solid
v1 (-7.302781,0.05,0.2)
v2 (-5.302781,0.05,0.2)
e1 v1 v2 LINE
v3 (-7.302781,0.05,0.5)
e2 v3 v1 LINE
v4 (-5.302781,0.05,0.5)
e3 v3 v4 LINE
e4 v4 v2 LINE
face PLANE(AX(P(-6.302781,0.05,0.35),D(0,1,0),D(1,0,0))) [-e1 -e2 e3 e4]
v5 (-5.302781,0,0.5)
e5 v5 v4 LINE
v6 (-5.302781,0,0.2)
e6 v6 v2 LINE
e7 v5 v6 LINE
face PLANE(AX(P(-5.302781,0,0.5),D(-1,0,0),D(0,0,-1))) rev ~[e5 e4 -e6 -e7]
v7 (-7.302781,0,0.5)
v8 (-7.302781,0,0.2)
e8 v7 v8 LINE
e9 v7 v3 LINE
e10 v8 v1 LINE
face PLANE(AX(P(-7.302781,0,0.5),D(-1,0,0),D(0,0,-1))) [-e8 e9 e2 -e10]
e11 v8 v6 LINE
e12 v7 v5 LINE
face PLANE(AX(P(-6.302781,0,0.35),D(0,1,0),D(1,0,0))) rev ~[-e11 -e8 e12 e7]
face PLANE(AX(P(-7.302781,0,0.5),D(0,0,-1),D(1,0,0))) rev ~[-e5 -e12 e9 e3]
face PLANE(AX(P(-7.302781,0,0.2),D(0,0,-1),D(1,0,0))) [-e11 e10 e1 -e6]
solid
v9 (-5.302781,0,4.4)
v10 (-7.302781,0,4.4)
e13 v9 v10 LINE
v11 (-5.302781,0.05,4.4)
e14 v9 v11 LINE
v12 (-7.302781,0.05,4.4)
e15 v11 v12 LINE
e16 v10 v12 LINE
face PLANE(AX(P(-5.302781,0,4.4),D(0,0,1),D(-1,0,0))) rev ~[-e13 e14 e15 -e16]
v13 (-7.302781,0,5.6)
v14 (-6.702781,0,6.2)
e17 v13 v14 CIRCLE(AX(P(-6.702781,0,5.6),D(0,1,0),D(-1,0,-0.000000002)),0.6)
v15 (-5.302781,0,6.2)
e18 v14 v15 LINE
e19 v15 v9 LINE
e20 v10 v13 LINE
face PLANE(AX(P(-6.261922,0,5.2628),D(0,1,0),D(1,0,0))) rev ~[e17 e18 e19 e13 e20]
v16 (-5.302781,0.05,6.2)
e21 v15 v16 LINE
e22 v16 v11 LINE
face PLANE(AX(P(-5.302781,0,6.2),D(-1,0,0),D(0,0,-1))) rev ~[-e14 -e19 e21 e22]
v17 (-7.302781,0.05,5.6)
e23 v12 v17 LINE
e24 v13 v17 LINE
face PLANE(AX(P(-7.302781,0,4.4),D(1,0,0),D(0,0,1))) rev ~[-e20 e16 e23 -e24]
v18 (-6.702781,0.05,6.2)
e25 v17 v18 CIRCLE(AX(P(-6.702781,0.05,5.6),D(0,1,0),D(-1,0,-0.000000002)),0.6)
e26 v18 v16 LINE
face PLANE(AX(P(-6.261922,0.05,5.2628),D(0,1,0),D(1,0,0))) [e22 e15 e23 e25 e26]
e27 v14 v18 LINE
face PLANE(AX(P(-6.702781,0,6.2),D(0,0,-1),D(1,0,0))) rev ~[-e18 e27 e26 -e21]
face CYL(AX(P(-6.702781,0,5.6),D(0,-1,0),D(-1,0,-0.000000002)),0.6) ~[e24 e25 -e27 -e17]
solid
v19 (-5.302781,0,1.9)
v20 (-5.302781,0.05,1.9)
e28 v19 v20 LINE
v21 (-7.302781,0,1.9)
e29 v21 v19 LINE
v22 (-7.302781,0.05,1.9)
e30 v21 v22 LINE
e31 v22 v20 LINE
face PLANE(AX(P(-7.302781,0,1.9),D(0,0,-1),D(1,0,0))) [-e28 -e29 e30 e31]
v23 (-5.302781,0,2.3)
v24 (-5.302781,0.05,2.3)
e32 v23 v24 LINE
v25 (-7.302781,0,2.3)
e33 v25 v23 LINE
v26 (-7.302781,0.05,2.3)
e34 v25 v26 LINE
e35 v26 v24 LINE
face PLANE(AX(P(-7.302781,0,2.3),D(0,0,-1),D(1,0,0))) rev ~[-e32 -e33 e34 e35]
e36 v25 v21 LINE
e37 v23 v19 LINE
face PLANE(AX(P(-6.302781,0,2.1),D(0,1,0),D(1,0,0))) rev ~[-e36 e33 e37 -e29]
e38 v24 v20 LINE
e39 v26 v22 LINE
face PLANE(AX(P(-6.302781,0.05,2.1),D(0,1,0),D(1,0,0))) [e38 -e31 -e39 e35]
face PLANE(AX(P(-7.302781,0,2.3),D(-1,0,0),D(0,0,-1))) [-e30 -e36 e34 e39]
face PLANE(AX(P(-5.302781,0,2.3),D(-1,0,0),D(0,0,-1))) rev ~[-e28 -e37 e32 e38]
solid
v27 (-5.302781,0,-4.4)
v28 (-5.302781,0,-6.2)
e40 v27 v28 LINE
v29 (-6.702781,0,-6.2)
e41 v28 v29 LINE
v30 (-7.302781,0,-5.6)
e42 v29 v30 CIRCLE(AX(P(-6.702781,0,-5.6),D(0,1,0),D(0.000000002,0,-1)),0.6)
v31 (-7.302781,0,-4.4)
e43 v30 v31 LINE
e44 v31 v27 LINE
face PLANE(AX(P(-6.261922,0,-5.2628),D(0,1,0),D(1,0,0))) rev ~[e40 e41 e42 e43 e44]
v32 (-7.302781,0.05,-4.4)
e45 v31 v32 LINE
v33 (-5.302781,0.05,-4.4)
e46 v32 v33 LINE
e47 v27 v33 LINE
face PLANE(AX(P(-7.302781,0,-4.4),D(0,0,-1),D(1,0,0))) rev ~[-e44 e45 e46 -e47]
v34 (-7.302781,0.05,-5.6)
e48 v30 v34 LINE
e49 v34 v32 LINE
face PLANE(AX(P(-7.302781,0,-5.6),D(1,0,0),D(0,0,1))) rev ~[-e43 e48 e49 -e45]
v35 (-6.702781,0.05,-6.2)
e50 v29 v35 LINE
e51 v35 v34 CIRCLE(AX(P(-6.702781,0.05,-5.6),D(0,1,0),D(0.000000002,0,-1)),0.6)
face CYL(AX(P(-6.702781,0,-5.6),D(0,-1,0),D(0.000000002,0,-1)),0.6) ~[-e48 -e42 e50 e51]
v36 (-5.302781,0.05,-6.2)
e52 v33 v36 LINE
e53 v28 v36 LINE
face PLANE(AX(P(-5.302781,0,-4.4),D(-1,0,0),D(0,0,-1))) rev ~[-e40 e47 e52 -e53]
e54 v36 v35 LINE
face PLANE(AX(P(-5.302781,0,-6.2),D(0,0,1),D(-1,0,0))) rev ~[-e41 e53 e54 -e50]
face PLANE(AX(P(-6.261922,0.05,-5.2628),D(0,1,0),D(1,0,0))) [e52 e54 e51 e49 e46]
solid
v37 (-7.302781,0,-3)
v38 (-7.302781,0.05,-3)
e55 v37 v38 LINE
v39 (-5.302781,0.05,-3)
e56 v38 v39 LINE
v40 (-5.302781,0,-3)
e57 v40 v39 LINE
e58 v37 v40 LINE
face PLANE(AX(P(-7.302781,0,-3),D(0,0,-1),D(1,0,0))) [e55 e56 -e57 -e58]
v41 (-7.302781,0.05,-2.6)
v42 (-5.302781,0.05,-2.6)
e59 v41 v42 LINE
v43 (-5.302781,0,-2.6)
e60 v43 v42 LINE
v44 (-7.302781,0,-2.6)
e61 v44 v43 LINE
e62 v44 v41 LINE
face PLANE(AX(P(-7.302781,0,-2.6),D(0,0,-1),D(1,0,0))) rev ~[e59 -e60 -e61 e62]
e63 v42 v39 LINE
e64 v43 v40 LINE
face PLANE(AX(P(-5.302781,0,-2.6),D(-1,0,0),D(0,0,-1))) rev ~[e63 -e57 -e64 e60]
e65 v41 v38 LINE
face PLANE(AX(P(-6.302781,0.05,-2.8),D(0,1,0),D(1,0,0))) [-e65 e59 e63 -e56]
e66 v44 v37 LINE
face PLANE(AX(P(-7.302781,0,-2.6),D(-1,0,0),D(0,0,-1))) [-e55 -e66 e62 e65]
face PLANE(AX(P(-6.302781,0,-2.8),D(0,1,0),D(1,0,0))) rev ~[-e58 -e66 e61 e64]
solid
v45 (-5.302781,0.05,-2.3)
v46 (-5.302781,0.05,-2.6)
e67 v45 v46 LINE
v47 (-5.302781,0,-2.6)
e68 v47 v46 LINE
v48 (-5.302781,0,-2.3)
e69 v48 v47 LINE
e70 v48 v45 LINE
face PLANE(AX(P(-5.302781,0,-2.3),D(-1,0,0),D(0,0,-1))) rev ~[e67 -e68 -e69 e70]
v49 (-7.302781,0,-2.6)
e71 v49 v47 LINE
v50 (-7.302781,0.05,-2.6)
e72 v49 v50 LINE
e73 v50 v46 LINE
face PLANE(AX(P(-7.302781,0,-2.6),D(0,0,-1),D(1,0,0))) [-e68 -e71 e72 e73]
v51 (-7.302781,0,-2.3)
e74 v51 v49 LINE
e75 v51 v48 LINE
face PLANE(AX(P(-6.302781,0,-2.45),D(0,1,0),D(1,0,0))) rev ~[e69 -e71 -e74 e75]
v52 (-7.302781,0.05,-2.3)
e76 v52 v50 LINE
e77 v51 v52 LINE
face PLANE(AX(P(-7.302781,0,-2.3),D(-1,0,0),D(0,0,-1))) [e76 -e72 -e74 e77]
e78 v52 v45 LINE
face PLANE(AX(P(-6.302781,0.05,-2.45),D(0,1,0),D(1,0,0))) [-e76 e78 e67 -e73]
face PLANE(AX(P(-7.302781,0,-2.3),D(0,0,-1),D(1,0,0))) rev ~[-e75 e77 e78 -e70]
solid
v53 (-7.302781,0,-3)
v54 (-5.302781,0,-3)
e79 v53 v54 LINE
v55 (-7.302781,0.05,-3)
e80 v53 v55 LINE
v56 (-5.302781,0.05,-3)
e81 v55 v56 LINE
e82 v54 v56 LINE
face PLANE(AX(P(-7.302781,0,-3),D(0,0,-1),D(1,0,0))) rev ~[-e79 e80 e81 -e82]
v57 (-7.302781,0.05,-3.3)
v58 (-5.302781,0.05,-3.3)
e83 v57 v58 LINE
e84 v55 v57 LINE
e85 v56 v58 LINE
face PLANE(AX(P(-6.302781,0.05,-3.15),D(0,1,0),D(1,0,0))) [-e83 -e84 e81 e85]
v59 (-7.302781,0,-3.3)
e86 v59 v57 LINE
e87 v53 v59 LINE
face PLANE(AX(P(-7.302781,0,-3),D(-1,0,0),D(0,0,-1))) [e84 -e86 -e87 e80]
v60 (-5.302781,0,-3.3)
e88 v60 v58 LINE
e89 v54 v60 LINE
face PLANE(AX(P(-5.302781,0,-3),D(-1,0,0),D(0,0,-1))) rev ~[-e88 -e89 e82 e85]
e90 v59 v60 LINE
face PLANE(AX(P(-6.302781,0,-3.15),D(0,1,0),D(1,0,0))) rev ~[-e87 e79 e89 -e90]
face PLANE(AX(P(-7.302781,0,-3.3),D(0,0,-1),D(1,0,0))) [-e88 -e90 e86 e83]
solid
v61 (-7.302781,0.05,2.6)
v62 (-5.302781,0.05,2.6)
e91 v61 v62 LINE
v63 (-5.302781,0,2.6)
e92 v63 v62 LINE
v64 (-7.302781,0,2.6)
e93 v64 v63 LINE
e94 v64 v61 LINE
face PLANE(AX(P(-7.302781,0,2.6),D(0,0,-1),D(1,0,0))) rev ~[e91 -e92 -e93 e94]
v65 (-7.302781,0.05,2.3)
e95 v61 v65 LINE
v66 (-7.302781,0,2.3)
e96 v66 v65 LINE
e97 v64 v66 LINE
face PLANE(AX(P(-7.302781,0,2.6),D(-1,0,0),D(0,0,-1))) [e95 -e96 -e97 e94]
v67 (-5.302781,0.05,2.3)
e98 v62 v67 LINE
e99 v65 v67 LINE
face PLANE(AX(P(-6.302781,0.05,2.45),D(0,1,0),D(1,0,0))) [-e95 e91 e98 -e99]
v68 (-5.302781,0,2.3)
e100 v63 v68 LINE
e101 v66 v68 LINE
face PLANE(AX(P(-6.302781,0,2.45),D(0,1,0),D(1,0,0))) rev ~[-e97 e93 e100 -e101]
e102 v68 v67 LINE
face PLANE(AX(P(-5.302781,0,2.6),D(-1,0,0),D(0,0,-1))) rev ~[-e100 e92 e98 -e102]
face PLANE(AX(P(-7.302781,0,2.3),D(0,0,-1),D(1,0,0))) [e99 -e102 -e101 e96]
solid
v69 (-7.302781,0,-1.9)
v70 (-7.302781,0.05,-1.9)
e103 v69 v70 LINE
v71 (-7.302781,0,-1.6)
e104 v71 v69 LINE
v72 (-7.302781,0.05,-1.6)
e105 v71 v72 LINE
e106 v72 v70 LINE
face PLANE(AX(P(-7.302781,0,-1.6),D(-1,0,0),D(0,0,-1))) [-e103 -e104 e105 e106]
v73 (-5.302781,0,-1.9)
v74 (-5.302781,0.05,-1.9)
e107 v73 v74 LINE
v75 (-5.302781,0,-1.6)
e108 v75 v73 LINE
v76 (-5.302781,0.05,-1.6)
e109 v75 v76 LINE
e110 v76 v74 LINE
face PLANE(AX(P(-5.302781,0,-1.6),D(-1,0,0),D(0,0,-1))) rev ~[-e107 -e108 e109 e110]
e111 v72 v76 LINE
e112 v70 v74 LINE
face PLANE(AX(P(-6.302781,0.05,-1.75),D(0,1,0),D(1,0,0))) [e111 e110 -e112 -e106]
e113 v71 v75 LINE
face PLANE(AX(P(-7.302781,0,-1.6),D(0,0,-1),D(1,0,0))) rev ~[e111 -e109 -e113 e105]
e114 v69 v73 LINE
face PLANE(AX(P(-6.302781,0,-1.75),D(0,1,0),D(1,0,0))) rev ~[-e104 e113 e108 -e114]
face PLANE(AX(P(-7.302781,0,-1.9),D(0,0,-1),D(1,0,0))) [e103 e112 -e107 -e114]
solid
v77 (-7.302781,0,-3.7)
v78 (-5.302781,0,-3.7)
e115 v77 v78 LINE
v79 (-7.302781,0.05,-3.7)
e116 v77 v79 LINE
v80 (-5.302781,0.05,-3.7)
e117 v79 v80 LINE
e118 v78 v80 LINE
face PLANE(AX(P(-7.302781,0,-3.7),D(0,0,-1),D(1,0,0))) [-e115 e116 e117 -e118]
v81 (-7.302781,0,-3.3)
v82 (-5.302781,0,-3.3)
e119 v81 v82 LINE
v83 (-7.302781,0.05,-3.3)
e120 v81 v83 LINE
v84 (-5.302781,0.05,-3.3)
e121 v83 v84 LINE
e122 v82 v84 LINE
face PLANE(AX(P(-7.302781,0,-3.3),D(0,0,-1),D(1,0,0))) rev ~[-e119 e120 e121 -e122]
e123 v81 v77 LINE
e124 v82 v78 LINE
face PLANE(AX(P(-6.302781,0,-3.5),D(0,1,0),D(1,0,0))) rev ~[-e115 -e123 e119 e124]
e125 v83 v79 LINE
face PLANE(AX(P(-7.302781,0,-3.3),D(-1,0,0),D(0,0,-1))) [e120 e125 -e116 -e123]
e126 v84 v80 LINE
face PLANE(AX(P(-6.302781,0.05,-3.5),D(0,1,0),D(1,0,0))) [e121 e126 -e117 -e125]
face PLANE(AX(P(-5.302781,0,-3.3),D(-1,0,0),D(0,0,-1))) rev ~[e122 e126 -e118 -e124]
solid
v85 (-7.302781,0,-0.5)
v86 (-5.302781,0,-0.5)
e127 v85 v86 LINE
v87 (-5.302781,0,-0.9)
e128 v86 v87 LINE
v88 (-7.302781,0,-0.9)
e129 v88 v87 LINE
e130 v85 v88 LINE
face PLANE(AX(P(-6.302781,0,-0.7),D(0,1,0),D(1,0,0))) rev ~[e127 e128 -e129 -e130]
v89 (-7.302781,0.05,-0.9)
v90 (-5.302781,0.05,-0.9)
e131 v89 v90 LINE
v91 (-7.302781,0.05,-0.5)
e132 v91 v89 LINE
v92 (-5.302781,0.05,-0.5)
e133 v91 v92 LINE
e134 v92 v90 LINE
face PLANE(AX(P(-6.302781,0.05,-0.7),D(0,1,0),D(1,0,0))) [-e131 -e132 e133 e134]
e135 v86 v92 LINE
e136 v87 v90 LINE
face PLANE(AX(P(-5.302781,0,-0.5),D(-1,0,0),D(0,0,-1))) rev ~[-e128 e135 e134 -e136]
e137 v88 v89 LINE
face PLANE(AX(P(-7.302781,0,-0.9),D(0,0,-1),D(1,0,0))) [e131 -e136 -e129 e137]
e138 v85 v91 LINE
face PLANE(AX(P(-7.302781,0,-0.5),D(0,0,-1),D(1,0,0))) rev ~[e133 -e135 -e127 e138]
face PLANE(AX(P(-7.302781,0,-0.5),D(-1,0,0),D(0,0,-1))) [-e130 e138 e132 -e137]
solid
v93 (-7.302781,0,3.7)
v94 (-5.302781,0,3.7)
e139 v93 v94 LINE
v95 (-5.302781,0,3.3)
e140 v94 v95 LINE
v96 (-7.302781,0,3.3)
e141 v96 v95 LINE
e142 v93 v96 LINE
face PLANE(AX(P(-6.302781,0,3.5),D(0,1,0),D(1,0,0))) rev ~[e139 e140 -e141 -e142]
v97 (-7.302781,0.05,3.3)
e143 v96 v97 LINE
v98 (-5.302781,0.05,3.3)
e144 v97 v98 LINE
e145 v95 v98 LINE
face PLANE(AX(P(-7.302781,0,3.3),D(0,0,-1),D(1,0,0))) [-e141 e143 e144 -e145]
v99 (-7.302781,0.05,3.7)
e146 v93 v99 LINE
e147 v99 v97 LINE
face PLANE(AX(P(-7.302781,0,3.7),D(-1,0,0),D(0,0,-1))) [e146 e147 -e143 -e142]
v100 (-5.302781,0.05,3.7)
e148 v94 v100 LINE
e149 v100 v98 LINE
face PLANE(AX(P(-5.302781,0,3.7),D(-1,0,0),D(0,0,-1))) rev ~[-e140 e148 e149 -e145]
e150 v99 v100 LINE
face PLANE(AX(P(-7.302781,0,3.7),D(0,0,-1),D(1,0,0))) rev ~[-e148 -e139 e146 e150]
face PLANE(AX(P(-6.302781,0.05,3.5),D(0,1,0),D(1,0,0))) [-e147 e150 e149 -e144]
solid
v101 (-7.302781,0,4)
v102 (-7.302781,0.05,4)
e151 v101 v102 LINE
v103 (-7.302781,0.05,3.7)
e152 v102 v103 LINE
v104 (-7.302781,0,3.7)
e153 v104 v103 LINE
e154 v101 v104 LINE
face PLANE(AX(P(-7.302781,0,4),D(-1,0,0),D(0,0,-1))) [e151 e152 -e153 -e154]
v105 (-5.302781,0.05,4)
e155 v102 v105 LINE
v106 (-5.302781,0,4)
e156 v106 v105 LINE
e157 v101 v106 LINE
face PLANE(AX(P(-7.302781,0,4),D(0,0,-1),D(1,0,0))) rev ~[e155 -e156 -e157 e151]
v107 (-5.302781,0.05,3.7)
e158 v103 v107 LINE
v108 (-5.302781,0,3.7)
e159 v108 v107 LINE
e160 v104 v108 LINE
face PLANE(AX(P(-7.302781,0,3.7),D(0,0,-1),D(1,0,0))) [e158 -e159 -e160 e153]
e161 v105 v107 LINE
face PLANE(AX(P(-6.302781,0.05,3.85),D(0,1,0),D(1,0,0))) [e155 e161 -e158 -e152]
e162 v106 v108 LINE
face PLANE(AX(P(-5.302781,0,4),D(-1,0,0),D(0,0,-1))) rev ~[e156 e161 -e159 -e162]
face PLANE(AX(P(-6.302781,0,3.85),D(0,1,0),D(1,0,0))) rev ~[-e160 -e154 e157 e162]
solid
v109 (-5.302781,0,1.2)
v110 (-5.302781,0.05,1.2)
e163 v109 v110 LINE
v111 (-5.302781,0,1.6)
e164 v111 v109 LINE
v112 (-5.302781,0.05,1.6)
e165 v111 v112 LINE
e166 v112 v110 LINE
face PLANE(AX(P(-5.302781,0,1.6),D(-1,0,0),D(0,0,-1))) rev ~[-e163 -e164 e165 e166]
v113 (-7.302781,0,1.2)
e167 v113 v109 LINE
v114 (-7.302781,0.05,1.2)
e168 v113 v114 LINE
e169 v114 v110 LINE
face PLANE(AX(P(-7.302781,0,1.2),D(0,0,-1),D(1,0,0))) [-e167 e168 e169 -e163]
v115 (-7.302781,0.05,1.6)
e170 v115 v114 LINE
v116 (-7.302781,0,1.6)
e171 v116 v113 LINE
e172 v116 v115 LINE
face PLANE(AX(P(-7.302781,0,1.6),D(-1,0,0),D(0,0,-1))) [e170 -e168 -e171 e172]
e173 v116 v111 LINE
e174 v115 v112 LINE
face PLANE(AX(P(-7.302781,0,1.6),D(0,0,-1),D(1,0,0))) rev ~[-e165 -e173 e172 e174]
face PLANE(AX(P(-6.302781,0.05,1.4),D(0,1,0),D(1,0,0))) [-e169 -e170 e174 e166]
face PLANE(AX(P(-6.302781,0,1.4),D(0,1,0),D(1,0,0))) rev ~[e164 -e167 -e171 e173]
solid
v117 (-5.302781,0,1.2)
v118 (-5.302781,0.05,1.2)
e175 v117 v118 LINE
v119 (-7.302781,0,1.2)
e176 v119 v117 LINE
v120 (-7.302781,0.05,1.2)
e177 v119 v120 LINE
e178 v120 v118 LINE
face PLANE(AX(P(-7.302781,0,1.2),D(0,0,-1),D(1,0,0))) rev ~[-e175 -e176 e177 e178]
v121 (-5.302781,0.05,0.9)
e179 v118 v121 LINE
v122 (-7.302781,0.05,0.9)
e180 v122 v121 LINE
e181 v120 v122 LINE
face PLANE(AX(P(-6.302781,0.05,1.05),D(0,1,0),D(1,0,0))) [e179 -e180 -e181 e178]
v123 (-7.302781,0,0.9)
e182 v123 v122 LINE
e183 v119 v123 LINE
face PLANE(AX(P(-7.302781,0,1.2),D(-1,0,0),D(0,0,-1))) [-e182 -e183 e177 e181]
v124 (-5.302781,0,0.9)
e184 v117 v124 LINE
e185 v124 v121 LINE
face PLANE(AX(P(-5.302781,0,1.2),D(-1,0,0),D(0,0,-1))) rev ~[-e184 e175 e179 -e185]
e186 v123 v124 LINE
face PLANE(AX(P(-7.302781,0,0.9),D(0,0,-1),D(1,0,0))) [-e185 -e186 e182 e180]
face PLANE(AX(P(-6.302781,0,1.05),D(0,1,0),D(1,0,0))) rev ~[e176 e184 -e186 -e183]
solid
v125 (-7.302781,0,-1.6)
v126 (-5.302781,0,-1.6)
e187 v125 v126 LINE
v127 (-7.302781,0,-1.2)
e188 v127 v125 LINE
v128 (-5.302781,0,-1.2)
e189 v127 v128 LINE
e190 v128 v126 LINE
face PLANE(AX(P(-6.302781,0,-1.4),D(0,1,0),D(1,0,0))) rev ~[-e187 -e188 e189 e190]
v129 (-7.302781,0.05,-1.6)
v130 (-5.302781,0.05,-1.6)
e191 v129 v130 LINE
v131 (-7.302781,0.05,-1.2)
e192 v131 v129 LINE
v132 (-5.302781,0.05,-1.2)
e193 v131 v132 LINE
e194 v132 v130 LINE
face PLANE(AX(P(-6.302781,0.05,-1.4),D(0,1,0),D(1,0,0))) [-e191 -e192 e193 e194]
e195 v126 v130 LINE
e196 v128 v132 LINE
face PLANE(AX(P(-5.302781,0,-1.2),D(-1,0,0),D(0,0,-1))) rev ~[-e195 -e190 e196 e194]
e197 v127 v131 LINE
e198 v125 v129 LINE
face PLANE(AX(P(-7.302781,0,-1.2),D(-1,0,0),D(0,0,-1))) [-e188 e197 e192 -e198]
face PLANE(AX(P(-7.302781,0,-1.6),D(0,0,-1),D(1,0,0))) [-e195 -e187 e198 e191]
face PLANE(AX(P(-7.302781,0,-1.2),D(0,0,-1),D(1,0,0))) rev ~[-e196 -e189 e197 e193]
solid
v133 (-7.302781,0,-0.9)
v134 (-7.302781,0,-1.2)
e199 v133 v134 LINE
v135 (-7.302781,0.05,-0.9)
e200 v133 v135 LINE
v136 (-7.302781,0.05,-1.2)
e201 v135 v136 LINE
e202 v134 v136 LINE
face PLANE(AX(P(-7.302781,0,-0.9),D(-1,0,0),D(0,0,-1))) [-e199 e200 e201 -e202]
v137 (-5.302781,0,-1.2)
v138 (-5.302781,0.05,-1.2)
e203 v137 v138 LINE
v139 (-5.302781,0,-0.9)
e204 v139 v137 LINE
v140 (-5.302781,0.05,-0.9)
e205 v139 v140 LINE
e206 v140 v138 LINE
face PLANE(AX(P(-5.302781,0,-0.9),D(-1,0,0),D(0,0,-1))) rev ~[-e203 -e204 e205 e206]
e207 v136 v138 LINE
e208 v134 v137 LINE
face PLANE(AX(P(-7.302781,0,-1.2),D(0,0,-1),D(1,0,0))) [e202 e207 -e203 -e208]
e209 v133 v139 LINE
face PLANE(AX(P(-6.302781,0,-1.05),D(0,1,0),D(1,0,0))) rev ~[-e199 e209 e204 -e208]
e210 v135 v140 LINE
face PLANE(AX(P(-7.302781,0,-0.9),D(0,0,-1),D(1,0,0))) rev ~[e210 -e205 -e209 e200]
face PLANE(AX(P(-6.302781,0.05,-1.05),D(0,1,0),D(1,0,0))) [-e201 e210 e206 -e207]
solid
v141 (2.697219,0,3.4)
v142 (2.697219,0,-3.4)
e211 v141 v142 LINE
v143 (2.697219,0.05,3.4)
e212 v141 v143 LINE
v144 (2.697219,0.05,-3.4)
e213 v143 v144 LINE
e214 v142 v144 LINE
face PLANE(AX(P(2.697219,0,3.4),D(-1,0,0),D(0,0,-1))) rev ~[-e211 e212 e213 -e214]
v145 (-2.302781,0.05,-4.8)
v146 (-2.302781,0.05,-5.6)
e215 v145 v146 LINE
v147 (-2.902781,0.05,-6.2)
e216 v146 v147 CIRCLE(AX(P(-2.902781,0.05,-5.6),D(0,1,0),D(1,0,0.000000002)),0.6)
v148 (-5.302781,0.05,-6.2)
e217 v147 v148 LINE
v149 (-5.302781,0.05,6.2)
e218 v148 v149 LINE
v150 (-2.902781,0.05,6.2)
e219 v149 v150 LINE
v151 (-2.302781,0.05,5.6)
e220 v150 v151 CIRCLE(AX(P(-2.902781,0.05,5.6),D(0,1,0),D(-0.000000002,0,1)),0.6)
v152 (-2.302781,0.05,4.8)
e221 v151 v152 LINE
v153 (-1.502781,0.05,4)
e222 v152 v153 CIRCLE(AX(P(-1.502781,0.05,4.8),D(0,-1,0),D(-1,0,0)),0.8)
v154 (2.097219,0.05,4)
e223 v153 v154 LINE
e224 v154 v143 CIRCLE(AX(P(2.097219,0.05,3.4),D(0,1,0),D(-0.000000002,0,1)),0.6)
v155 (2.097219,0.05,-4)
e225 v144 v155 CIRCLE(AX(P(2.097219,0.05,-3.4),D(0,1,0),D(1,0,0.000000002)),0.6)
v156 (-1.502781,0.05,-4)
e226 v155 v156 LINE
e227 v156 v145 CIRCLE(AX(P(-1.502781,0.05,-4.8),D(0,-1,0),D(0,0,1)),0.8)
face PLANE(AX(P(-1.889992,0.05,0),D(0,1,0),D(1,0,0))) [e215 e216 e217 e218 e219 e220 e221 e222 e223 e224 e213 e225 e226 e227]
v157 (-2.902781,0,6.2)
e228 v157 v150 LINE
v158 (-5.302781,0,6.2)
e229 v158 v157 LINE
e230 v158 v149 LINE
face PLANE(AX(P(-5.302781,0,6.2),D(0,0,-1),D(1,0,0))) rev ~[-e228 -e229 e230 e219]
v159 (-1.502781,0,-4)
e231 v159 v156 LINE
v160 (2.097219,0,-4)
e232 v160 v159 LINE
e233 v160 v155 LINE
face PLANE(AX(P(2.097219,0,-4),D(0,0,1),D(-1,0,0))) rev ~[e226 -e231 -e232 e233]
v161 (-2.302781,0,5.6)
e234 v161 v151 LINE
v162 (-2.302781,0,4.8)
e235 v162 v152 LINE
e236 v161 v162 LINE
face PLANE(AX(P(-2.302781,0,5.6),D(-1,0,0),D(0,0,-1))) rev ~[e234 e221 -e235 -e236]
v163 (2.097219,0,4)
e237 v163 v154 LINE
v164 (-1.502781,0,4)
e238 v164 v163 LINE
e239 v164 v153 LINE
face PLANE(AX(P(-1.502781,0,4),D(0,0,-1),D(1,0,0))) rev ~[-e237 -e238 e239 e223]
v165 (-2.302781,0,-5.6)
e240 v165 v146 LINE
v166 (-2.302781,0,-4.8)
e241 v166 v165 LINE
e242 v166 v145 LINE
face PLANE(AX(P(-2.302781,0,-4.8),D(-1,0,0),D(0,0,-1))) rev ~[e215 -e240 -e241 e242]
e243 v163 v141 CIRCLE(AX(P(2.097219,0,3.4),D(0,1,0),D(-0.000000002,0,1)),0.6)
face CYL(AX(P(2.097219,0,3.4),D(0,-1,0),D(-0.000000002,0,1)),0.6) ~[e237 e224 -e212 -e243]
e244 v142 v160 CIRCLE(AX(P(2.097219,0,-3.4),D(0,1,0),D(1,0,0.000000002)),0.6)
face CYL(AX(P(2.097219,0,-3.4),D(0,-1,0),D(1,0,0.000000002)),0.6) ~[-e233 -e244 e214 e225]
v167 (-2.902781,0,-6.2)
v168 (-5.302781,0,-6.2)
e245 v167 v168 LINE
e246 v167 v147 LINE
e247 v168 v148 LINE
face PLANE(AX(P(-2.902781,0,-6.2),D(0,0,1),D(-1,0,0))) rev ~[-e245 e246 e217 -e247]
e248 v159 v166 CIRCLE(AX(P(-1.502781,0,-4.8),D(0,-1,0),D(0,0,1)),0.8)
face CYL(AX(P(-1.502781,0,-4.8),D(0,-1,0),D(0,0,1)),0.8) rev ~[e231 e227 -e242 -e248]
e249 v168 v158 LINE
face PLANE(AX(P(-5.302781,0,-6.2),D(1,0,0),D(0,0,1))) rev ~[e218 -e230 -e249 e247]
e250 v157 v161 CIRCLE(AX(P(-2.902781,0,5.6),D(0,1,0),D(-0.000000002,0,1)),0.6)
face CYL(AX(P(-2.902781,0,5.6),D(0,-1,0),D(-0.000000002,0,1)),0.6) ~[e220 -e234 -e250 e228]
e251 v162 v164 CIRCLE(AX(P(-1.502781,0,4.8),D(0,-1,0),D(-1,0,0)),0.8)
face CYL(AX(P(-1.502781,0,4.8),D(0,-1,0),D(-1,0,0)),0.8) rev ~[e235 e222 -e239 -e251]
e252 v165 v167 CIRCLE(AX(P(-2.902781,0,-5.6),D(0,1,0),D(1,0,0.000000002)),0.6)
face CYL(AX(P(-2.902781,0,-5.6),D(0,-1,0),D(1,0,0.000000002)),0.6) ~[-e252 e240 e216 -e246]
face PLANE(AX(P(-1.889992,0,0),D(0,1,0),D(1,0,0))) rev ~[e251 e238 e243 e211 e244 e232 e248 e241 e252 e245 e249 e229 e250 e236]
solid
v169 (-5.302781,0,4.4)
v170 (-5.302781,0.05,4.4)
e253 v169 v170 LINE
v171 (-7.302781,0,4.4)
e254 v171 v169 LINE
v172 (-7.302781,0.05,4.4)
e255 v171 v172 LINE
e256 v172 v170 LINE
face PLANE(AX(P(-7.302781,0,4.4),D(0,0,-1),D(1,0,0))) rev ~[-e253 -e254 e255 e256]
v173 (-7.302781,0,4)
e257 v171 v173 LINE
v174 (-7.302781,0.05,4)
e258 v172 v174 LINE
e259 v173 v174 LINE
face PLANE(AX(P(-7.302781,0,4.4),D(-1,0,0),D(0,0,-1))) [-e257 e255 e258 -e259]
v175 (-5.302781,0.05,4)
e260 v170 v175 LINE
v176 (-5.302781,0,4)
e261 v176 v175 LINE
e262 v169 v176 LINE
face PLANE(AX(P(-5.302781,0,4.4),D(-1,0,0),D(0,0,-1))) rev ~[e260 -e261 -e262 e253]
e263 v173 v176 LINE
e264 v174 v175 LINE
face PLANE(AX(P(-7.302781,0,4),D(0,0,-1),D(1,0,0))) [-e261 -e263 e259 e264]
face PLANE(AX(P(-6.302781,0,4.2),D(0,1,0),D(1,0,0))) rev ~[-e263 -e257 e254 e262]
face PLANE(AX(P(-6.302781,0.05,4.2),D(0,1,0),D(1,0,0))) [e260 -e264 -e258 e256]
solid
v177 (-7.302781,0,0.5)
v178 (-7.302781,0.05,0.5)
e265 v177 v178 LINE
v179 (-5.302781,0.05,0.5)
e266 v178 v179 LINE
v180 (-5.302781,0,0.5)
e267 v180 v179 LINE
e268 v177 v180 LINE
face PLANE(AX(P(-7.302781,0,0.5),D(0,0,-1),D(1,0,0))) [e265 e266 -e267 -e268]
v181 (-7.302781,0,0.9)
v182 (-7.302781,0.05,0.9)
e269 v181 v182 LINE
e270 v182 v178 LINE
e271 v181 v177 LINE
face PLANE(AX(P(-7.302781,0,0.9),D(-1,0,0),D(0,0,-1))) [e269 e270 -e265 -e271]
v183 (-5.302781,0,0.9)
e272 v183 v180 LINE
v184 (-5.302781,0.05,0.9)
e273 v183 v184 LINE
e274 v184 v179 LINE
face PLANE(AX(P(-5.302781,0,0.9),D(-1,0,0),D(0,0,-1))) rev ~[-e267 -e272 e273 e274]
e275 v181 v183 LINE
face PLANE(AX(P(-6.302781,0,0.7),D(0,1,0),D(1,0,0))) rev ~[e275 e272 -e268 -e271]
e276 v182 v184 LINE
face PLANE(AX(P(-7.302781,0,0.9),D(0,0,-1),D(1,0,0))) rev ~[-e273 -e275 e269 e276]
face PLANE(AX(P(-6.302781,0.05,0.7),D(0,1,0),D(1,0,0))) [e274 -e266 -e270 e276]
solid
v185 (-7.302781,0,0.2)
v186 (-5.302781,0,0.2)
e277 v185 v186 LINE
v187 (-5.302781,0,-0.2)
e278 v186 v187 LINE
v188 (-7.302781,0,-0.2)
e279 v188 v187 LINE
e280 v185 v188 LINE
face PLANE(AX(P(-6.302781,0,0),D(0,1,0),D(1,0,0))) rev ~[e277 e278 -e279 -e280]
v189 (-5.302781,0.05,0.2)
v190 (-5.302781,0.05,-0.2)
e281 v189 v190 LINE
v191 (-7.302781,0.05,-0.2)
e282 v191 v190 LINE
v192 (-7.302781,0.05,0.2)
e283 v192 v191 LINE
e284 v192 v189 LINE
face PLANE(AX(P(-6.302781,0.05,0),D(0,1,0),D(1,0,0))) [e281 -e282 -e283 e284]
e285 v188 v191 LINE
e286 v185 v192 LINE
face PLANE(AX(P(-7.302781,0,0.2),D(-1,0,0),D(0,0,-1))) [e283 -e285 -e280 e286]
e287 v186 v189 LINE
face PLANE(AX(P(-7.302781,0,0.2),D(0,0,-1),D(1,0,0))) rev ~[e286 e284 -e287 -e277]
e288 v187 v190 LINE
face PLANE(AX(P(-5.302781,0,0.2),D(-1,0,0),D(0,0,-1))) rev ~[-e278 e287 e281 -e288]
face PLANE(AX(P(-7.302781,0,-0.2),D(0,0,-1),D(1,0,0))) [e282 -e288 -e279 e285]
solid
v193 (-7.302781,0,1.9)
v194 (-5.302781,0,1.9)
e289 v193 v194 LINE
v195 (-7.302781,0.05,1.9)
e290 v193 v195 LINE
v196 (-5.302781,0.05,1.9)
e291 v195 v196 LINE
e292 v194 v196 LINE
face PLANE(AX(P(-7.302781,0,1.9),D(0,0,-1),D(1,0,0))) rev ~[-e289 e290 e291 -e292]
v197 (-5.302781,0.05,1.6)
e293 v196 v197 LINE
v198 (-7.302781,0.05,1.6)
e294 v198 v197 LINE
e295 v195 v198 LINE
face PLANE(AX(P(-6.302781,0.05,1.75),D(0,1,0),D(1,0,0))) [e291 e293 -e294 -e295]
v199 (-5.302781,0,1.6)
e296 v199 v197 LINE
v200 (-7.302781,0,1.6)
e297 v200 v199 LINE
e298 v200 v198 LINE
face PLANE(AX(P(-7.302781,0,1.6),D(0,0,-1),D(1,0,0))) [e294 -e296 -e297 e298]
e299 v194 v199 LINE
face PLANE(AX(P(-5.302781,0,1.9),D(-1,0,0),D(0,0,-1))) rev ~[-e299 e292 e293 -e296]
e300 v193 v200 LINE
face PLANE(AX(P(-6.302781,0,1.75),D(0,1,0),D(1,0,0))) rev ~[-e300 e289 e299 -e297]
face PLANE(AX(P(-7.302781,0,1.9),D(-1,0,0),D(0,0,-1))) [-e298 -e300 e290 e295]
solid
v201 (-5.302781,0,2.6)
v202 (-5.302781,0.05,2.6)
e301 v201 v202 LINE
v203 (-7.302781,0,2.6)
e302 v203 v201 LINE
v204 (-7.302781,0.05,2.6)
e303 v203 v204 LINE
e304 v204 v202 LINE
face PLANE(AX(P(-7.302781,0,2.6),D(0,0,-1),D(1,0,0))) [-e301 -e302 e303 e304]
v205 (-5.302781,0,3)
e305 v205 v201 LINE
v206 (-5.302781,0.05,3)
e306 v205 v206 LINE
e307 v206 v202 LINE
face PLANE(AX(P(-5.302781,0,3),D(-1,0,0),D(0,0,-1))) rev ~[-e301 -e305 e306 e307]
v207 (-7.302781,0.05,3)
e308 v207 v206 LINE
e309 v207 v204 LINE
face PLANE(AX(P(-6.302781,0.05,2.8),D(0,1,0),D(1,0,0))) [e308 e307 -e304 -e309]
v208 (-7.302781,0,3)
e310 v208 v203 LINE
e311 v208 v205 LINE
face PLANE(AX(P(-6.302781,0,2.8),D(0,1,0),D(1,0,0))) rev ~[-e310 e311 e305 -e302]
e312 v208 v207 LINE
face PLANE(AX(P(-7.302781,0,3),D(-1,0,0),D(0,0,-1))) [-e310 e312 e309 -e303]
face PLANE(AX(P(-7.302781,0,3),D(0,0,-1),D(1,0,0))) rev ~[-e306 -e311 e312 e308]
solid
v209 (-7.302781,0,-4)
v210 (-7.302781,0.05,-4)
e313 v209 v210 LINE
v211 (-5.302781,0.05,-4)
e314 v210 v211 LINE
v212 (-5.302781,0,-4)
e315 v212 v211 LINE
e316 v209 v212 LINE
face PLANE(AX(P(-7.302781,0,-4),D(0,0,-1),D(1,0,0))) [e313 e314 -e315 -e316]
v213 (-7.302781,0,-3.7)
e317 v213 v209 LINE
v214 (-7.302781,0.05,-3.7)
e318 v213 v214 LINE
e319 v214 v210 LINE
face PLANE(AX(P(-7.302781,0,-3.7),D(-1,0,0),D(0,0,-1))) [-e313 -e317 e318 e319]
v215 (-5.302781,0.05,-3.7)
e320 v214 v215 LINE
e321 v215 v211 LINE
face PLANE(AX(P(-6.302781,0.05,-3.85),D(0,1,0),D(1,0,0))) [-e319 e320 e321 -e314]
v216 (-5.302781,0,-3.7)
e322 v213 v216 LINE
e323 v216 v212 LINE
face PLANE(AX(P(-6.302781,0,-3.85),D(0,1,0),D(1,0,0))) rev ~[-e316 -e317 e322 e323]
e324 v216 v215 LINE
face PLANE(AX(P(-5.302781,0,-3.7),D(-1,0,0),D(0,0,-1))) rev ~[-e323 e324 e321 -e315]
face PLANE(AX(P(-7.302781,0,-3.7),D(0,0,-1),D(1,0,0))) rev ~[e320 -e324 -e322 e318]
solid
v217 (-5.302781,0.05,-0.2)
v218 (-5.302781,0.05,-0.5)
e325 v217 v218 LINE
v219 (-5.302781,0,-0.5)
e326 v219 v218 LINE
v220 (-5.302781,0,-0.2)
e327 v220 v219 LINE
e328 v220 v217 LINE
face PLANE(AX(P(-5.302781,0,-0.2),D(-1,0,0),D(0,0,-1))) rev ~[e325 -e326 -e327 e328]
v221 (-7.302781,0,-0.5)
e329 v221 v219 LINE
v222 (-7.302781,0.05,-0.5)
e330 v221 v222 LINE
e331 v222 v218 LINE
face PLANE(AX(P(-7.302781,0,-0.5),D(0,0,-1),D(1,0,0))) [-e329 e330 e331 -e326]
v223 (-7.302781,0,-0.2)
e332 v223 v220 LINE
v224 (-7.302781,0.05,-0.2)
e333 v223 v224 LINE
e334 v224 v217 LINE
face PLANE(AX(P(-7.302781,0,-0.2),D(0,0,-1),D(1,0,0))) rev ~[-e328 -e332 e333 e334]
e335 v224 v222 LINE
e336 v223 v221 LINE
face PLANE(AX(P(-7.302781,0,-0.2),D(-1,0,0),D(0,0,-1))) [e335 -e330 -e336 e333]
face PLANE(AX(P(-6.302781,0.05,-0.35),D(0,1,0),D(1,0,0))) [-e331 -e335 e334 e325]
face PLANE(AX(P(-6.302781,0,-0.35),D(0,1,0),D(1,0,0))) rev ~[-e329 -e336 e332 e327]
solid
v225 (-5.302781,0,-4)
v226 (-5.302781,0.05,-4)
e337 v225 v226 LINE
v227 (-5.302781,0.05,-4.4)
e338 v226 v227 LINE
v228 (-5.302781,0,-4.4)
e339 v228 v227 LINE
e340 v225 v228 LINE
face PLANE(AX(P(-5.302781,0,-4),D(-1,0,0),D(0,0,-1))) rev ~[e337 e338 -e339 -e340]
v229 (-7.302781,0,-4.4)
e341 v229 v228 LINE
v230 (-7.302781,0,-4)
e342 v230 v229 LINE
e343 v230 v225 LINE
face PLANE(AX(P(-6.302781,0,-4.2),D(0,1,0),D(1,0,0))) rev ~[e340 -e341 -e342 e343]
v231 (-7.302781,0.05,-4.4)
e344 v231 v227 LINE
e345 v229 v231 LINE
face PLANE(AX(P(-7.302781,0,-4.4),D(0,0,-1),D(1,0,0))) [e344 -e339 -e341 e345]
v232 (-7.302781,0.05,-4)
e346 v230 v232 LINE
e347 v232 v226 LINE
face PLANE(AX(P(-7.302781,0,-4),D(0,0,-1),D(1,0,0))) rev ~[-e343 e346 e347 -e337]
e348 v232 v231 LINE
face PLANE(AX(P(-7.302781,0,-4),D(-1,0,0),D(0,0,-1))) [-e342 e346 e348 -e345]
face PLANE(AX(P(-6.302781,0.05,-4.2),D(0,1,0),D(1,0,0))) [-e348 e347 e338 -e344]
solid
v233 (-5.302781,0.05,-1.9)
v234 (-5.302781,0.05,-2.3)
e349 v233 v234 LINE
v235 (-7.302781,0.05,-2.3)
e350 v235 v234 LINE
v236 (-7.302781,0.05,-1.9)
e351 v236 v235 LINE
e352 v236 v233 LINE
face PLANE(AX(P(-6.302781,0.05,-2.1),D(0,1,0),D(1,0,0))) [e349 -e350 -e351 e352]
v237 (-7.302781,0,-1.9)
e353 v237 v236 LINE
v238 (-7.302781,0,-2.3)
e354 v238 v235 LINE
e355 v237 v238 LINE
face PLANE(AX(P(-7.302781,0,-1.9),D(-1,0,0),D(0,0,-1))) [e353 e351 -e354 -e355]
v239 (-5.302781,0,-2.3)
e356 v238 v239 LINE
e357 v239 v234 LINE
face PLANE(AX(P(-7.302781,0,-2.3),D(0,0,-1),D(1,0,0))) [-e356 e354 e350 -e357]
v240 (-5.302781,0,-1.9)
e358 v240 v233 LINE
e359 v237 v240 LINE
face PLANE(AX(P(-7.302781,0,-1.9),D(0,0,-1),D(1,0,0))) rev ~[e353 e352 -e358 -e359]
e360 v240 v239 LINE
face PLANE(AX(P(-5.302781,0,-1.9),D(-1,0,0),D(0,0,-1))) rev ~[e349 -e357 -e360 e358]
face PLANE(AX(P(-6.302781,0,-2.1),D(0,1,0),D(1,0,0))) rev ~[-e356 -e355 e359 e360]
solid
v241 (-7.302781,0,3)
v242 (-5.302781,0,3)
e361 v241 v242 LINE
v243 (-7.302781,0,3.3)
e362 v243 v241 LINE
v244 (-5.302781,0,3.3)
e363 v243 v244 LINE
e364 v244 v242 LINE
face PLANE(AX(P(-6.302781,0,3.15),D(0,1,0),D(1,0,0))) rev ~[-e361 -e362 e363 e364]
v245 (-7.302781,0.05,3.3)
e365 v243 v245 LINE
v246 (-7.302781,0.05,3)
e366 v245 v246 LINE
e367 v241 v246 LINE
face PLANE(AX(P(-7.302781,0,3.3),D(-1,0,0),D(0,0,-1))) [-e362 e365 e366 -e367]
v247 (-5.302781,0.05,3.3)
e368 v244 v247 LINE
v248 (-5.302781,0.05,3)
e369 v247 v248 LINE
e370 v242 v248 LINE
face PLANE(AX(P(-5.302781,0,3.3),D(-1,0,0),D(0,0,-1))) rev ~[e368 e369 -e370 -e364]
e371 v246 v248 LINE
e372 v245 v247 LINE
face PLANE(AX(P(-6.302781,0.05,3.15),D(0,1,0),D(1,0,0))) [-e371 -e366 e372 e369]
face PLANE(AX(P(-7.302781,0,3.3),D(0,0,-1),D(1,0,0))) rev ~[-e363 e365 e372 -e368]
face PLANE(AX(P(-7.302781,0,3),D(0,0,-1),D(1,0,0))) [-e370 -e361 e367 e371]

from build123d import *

# Parameters (mm, degrees)
EXTRUDE_1_DEPTH    = 0.05
SKETCH_1_3_W       = 2
SKETCH_1_3_H       = 0.4
EXTRUDE_2_DEPTH    = 0.05
EXTRUDE_2_2_DEPTH  = 0.05
EXTRUDE_2_3_DEPTH  = 0.05
EXTRUDE_2_4_DEPTH  = 0.05
EXTRUDE_2_5_DEPTH  = 0.05
EXTRUDE_2_6_DEPTH  = 0.05
EXTRUDE_2_7_DEPTH  = 0.05
EXTRUDE_2_8_DEPTH  = 0.05
EXTRUDE_2_9_DEPTH  = 0.05
EXTRUDE_2_10_DEPTH = 0.05
EXTRUDE_2_11_DEPTH = 0.05
EXTRUDE_2_12_DEPTH = 0.05
EXTRUDE_2_13_DEPTH = 0.05
EXTRUDE_3_DEPTH    = 0.05
SKETCH_1_5_W       = 2
SKETCH_1_5_H       = 0.3
EXTRUDE_3_2_DEPTH  = 0.05
EXTRUDE_3_3_DEPTH  = 0.05
EXTRUDE_3_4_DEPTH  = 0.05
EXTRUDE_3_5_DEPTH  = 0.05
EXTRUDE_3_6_DEPTH  = 0.05
EXTRUDE_3_7_DEPTH  = 0.05
EXTRUDE_3_8_DEPTH  = 0.05
EXTRUDE_3_9_DEPTH  = 0.05
EXTRUDE_3_10_DEPTH = 0.05
EXTRUDE_3_11_DEPTH = 0.05
EXTRUDE_3_12_DEPTH = 0.05
EXTRUDE_3_13_DEPTH = 0.05
EXTRUDE_3_14_DEPTH = 0.05


with BuildPart() as part:
    # 草图1 → 凸台-拉伸1 (new body)
    with BuildSketch(Plane(origin=(0, 0, 0), x_dir=(1, 0, 0), z_dir=(0, 1, 0))):
        with BuildLine():
            Line((-5.302780917, 1.2), (-5.302780917, 0.9))
            Line((-5.302780917, 0.9), (-5.302780917, 0.5))
            Line((-5.302780917, 0.5), (-5.302780917, 0.2))
            Line((-5.302780917, 0.2), (-5.302780917, -0.2))
            Line((-5.302780917, -0.2), (-5.302780917, -0.5))
            Line((-5.302780917, -0.5), (-5.302780917, -0.9))
            Line((-5.302780917, -0.9), (-5.302780917, -1.2))
            Line((-5.302780917, -1.2), (-5.302780917, -1.6))
            Line((-5.302780917, -1.6), (-5.302780917, -1.9))
            Line((-5.302780917, -1.9), (-5.302780917, -2.3))
            Line((-5.302780917, -2.3), (-5.302780917, -2.6))
            Line((-5.302780917, -2.6), (-5.302780917, -3))
            Line((-5.302780917, -3), (-5.302780917, -3.3))
            Line((-5.302780917, -3.3), (-5.302780917, -3.7))
            Line((-5.302780917, -3.7), (-5.302780917, -4))
            Line((-5.302780917, -4), (-5.302780917, -4.4))
            Line((-5.302780917, -4.4), (-5.302780917, -6.2))
            Line((-5.302780917, -6.2), (-2.902780917, -6.2))
            ThreePointArc((-2.902780917, -6.2), (-2.478516848, -6.024264069), (-2.302780917, -5.6))
            Line((-2.302780917, -5.6), (-2.302780917, -4.8))
            ThreePointArc((-2.302780917, -4.8), (-2.068466342, -4.234314575), (-1.502780917, -4))
            Line((-1.502780917, -4), (2.097219083, -4))
            ThreePointArc((2.097219083, -4), (2.521483152, -3.824264069), (2.697219083, -3.4))
            Line((2.697219083, -3.4), (2.697219083, 3.4))
            ThreePointArc((2.697219083, 3.4), (2.521483152, 3.824264069), (2.097219083, 4))
            Line((2.097219083, 4), (-1.502780917, 4))
            ThreePointArc((-1.502780917, 4), (-2.068466342, 4.234314575), (-2.302780917, 4.8))
            Line((-2.302780917, 4.8), (-2.302780917, 5.6))
            ThreePointArc((-2.302780917, 5.6), (-2.478516848, 6.024264069), (-2.902780917, 6.2))
            Line((-2.902780917, 6.2), (-5.302780917, 6.2))
            Line((-5.302780917, 6.2), (-5.302780917, 4.4))
            Line((-5.302780917, 4.4), (-5.302780917, 4))
            Line((-5.302780917, 4), (-5.302780917, 3.7))
            Line((-5.302780917, 3.7), (-5.302780917, 3.3))
            Line((-5.302780917, 3.3), (-5.302780917, 3))
            Line((-5.302780917, 3), (-5.302780917, 2.6))
            Line((-5.302780917, 2.6), (-5.302780917, 2.3))
            Line((-5.302780917, 2.3), (-5.302780917, 1.9))
            Line((-5.302780917, 1.9), (-5.302780917, 1.6))
            Line((-5.302780917, 1.6), (-5.302780917, 1.2))
        make_face()
    extrude(amount=EXTRUDE_1_DEPTH)


with BuildPart() as body_2:
    # 草图1<3> → 凸台-拉伸2 (new body)
    with BuildSketch(Plane(origin=(0, 0, 0), x_dir=(1, 0, 0), z_dir=(0, 1, 0))):
        with Locations((-6.302780917, 4.2)):
            Rectangle(SKETCH_1_3_W, SKETCH_1_3_H)
    extrude(amount=EXTRUDE_2_DEPTH)


with BuildPart() as body_3:
    # 草图1<3> → Extrude 2 2 (new body)
    with BuildSketch(Plane(origin=(0, 0, 0), x_dir=(1, 0, 0), z_dir=(0, 1, 0))):
        with Locations((-6.302780917, 3.5)):
            Rectangle(SKETCH_1_3_W, SKETCH_1_3_H)
    extrude(amount=EXTRUDE_2_2_DEPTH)


with BuildPart() as body_4:
    # 草图1<3> → Extrude 2 3 (new body)
    with BuildSketch(Plane(origin=(0, 0, 0), x_dir=(1, 0, 0), z_dir=(0, 1, 0))):
        with Locations((-6.302780917, 2.8)):
            Rectangle(SKETCH_1_3_W, SKETCH_1_3_H)
    extrude(amount=EXTRUDE_2_3_DEPTH)


with BuildPart() as body_5:
    # 草图1<3> → Extrude 2 4 (new body)
    with BuildSketch(Plane(origin=(0, 0, 0), x_dir=(1, 0, 0), z_dir=(0, 1, 0))):
        with Locations((-6.302780917, 2.1)):
            Rectangle(SKETCH_1_3_W, SKETCH_1_3_H)
    extrude(amount=EXTRUDE_2_4_DEPTH)


with BuildPart() as body_6:
    # 草图1<3> → Extrude 2 5 (new body)
    with BuildSketch(Plane(origin=(0, 0, 0), x_dir=(1, 0, 0), z_dir=(0, 1, 0))):
        with Locations((-6.302780917, 1.4)):
            Rectangle(SKETCH_1_3_W, SKETCH_1_3_H)
    extrude(amount=EXTRUDE_2_5_DEPTH)


with BuildPart() as body_7:
    # 草图1<3> → Extrude 2 6 (new body)
    with BuildSketch(Plane(origin=(0, 0, 0), x_dir=(1, 0, 0), z_dir=(0, 1, 0))):
        with Locations((-6.302780917, 0.7)):
            Rectangle(SKETCH_1_3_W, SKETCH_1_3_H)
    extrude(amount=EXTRUDE_2_6_DEPTH)


with BuildPart() as body_8:
    # 草图1<3> → Extrude 2 7 (new body)
    with BuildSketch(Plane(origin=(0, 0, 0), x_dir=(1, 0, 0), z_dir=(0, 1, 0))):
        with Locations((-6.302780917, 0)):
            Rectangle(SKETCH_1_3_W, SKETCH_1_3_H)
    extrude(amount=EXTRUDE_2_7_DEPTH)


with BuildPart() as body_9:
    # 草图1<3> → Extrude 2 8 (new body)
    with BuildSketch(Plane(origin=(0, 0, 0), x_dir=(1, 0, 0), z_dir=(0, 1, 0))):
        with Locations((-6.302780917, -0.7)):
            Rectangle(SKETCH_1_3_W, SKETCH_1_3_H)
    extrude(amount=EXTRUDE_2_8_DEPTH)


with BuildPart() as body_10:
    # 草图1<3> → Extrude 2 9 (new body)
    with BuildSketch(Plane(origin=(0, 0, 0), x_dir=(1, 0, 0), z_dir=(0, 1, 0))):
        with Locations((-6.302780917, -1.4)):
            Rectangle(SKETCH_1_3_W, SKETCH_1_3_H)
    extrude(amount=EXTRUDE_2_9_DEPTH)


with BuildPart() as body_11:
    # 草图1<3> → Extrude 2 10 (new body)
    with BuildSketch(Plane(origin=(0, 0, 0), x_dir=(1, 0, 0), z_dir=(0, 1, 0))):
        with Locations((-6.302780917, -2.1)):
            Rectangle(SKETCH_1_3_W, SKETCH_1_3_H)
    extrude(amount=EXTRUDE_2_10_DEPTH)


with BuildPart() as body_12:
    # 草图1<3> → Extrude 2 11 (new body)
    with BuildSketch(Plane(origin=(0, 0, 0), x_dir=(1, 0, 0), z_dir=(0, 1, 0))):
        with Locations((-6.302780917, -2.8)):
            Rectangle(SKETCH_1_3_W, SKETCH_1_3_H)
    extrude(amount=EXTRUDE_2_11_DEPTH)


with BuildPart() as body_13:
    # 草图1<3> → Extrude 2 12 (new body)
    with BuildSketch(Plane(origin=(0, 0, 0), x_dir=(1, 0, 0), z_dir=(0, 1, 0))):
        with Locations((-6.302780917, -3.5)):
            Rectangle(SKETCH_1_3_W, SKETCH_1_3_H)
    extrude(amount=EXTRUDE_2_12_DEPTH)


with BuildPart() as body_14:
    # 草图1<3> → Extrude 2 13 (new body)
    with BuildSketch(Plane(origin=(0, 0, 0), x_dir=(1, 0, 0), z_dir=(0, 1, 0))):
        with Locations((-6.302780917, -4.2)):
            Rectangle(SKETCH_1_3_W, SKETCH_1_3_H)
    extrude(amount=EXTRUDE_2_13_DEPTH)


with BuildPart() as body_15:
    # 草图1<5> → 凸台-拉伸3 (new body)
    with BuildSketch(Plane(origin=(0, 0, 0), x_dir=(1, 0, 0), z_dir=(0, 1, 0))):
        with BuildLine():
            Line((-5.302780917, -4.4), (-7.302780917, -4.4))
            Line((-7.302780917, -4.4), (-7.302780917, -5.6))
            ThreePointArc((-7.302780917, -5.6), (-7.127044986, -6.024264069), (-6.702780917, -6.2))
            Line((-6.702780917, -6.2), (-5.302780917, -6.2))
            Line((-5.302780917, -6.2), (-5.302780917, -4.4))
        make_face()
    extrude(amount=EXTRUDE_3_DEPTH)


with BuildPart() as body_16:
    # 草图1<5> → Extrude 3 2 (new body)
    with BuildSketch(Plane(origin=(0, 0, 0), x_dir=(1, 0, 0), z_dir=(0, 1, 0))):
        with Locations((-6.302780917, -3.85)):
            Rectangle(SKETCH_1_5_W, SKETCH_1_5_H)
    extrude(amount=EXTRUDE_3_2_DEPTH)


with BuildPart() as body_17:
    # 草图1<5> → Extrude 3 3 (new body)
    with BuildSketch(Plane(origin=(0, 0, 0), x_dir=(1, 0, 0), z_dir=(0, 1, 0))):
        with Locations((-6.302780917, -3.15)):
            Rectangle(SKETCH_1_5_W, SKETCH_1_5_H)
    extrude(amount=EXTRUDE_3_3_DEPTH)


with BuildPart() as body_18:
    # 草图1<5> → Extrude 3 4 (new body)
    with BuildSketch(Plane(origin=(0, 0, 0), x_dir=(1, 0, 0), z_dir=(0, 1, 0))):
        with Locations((-6.302780917, -2.45)):
            Rectangle(SKETCH_1_5_W, SKETCH_1_5_H)
    extrude(amount=EXTRUDE_3_4_DEPTH)


with BuildPart() as body_19:
    # 草图1<5> → Extrude 3 5 (new body)
    with BuildSketch(Plane(origin=(0, 0, 0), x_dir=(1, 0, 0), z_dir=(0, 1, 0))):
        with Locations((-6.302780917, -1.75)):
            Rectangle(SKETCH_1_5_W, SKETCH_1_5_H)
    extrude(amount=EXTRUDE_3_5_DEPTH)


with BuildPart() as body_20:
    # 草图1<5> → Extrude 3 6 (new body)
    with BuildSketch(Plane(origin=(0, 0, 0), x_dir=(1, 0, 0), z_dir=(0, 1, 0))):
        with Locations((-6.302780917, -1.05)):
            Rectangle(SKETCH_1_5_W, SKETCH_1_5_H)
    extrude(amount=EXTRUDE_3_6_DEPTH)


with BuildPart() as body_21:
    # 草图1<5> → Extrude 3 7 (new body)
    with BuildSketch(Plane(origin=(0, 0, 0), x_dir=(1, 0, 0), z_dir=(0, 1, 0))):
        with Locations((-6.302780917, -0.35)):
            Rectangle(SKETCH_1_5_W, SKETCH_1_5_H)
    extrude(amount=EXTRUDE_3_7_DEPTH)


with BuildPart() as body_22:
    # 草图1<5> → Extrude 3 8 (new body)
    with BuildSketch(Plane(origin=(0, 0, 0), x_dir=(1, 0, 0), z_dir=(0, 1, 0))):
        with Locations((-6.302780917, 0.35)):
            Rectangle(SKETCH_1_5_W, SKETCH_1_5_H)
    extrude(amount=EXTRUDE_3_8_DEPTH)


with BuildPart() as body_23:
    # 草图1<5> → Extrude 3 9 (new body)
    with BuildSketch(Plane(origin=(0, 0, 0), x_dir=(1, 0, 0), z_dir=(0, 1, 0))):
        with Locations((-6.302780917, 1.05)):
            Rectangle(SKETCH_1_5_W, SKETCH_1_5_H)
    extrude(amount=EXTRUDE_3_9_DEPTH)


with BuildPart() as body_24:
    # 草图1<5> → Extrude 3 10 (new body)
    with BuildSketch(Plane(origin=(0, 0, 0), x_dir=(1, 0, 0), z_dir=(0, 1, 0))):
        with Locations((-6.302780917, 1.75)):
            Rectangle(SKETCH_1_5_W, SKETCH_1_5_H)
    extrude(amount=EXTRUDE_3_10_DEPTH)


with BuildPart() as body_25:
    # 草图1<5> → Extrude 3 11 (new body)
    with BuildSketch(Plane(origin=(0, 0, 0), x_dir=(1, 0, 0), z_dir=(0, 1, 0))):
        with BuildLine():
            Line((-7.302780917, 5.6), (-7.302780917, 4.4))
            Line((-7.302780917, 4.4), (-5.302780917, 4.4))
            Line((-5.302780917, 4.4), (-5.302780917, 6.2))
            Line((-5.302780917, 6.2), (-6.702780917, 6.2))
            ThreePointArc((-6.702780917, 6.2), (-7.127044986, 6.024264069), (-7.302780917, 5.6))
        make_face()
    extrude(amount=EXTRUDE_3_11_DEPTH)


with BuildPart() as body_26:
    # 草图1<5> → Extrude 3 12 (new body)
    with BuildSketch(Plane(origin=(0, 0, 0), x_dir=(1, 0, 0), z_dir=(0, 1, 0))):
        with Locations((-6.302780917, 3.85)):
            Rectangle(SKETCH_1_5_W, SKETCH_1_5_H)
    extrude(amount=EXTRUDE_3_12_DEPTH)


with BuildPart() as body_27:
    # 草图1<5> → Extrude 3 13 (new body)
    with BuildSketch(Plane(origin=(0, 0, 0), x_dir=(1, 0, 0), z_dir=(0, 1, 0))):
        with Locations((-6.302780917, 3.15)):
            Rectangle(SKETCH_1_5_W, SKETCH_1_5_H)
    extrude(amount=EXTRUDE_3_13_DEPTH)


with BuildPart() as body_28:
    # 草图1<5> → Extrude 3 14 (new body)
    with BuildSketch(Plane(origin=(0, 0, 0), x_dir=(1, 0, 0), z_dir=(0, 1, 0))):
        with Locations((-6.302780917, 2.45)):
            Rectangle(SKETCH_1_5_W, SKETCH_1_5_H)
    extrude(amount=EXTRUDE_3_14_DEPTH)


solid = Compound([part.part, body_2.part, body_3.part, body_4.part, body_5.part, body_6.part, body_7.part, body_8.part, body_9.part, body_10.part, body_11.part, body_12.part, body_13.part, body_14.part, body_15.part, body_16.part, body_17.part, body_18.part, body_19.part, body_20.part, body_21.part, body_22.part, body_23.part, body_24.part, body_25.part, body_26.part, body_27.part, body_28.part])
